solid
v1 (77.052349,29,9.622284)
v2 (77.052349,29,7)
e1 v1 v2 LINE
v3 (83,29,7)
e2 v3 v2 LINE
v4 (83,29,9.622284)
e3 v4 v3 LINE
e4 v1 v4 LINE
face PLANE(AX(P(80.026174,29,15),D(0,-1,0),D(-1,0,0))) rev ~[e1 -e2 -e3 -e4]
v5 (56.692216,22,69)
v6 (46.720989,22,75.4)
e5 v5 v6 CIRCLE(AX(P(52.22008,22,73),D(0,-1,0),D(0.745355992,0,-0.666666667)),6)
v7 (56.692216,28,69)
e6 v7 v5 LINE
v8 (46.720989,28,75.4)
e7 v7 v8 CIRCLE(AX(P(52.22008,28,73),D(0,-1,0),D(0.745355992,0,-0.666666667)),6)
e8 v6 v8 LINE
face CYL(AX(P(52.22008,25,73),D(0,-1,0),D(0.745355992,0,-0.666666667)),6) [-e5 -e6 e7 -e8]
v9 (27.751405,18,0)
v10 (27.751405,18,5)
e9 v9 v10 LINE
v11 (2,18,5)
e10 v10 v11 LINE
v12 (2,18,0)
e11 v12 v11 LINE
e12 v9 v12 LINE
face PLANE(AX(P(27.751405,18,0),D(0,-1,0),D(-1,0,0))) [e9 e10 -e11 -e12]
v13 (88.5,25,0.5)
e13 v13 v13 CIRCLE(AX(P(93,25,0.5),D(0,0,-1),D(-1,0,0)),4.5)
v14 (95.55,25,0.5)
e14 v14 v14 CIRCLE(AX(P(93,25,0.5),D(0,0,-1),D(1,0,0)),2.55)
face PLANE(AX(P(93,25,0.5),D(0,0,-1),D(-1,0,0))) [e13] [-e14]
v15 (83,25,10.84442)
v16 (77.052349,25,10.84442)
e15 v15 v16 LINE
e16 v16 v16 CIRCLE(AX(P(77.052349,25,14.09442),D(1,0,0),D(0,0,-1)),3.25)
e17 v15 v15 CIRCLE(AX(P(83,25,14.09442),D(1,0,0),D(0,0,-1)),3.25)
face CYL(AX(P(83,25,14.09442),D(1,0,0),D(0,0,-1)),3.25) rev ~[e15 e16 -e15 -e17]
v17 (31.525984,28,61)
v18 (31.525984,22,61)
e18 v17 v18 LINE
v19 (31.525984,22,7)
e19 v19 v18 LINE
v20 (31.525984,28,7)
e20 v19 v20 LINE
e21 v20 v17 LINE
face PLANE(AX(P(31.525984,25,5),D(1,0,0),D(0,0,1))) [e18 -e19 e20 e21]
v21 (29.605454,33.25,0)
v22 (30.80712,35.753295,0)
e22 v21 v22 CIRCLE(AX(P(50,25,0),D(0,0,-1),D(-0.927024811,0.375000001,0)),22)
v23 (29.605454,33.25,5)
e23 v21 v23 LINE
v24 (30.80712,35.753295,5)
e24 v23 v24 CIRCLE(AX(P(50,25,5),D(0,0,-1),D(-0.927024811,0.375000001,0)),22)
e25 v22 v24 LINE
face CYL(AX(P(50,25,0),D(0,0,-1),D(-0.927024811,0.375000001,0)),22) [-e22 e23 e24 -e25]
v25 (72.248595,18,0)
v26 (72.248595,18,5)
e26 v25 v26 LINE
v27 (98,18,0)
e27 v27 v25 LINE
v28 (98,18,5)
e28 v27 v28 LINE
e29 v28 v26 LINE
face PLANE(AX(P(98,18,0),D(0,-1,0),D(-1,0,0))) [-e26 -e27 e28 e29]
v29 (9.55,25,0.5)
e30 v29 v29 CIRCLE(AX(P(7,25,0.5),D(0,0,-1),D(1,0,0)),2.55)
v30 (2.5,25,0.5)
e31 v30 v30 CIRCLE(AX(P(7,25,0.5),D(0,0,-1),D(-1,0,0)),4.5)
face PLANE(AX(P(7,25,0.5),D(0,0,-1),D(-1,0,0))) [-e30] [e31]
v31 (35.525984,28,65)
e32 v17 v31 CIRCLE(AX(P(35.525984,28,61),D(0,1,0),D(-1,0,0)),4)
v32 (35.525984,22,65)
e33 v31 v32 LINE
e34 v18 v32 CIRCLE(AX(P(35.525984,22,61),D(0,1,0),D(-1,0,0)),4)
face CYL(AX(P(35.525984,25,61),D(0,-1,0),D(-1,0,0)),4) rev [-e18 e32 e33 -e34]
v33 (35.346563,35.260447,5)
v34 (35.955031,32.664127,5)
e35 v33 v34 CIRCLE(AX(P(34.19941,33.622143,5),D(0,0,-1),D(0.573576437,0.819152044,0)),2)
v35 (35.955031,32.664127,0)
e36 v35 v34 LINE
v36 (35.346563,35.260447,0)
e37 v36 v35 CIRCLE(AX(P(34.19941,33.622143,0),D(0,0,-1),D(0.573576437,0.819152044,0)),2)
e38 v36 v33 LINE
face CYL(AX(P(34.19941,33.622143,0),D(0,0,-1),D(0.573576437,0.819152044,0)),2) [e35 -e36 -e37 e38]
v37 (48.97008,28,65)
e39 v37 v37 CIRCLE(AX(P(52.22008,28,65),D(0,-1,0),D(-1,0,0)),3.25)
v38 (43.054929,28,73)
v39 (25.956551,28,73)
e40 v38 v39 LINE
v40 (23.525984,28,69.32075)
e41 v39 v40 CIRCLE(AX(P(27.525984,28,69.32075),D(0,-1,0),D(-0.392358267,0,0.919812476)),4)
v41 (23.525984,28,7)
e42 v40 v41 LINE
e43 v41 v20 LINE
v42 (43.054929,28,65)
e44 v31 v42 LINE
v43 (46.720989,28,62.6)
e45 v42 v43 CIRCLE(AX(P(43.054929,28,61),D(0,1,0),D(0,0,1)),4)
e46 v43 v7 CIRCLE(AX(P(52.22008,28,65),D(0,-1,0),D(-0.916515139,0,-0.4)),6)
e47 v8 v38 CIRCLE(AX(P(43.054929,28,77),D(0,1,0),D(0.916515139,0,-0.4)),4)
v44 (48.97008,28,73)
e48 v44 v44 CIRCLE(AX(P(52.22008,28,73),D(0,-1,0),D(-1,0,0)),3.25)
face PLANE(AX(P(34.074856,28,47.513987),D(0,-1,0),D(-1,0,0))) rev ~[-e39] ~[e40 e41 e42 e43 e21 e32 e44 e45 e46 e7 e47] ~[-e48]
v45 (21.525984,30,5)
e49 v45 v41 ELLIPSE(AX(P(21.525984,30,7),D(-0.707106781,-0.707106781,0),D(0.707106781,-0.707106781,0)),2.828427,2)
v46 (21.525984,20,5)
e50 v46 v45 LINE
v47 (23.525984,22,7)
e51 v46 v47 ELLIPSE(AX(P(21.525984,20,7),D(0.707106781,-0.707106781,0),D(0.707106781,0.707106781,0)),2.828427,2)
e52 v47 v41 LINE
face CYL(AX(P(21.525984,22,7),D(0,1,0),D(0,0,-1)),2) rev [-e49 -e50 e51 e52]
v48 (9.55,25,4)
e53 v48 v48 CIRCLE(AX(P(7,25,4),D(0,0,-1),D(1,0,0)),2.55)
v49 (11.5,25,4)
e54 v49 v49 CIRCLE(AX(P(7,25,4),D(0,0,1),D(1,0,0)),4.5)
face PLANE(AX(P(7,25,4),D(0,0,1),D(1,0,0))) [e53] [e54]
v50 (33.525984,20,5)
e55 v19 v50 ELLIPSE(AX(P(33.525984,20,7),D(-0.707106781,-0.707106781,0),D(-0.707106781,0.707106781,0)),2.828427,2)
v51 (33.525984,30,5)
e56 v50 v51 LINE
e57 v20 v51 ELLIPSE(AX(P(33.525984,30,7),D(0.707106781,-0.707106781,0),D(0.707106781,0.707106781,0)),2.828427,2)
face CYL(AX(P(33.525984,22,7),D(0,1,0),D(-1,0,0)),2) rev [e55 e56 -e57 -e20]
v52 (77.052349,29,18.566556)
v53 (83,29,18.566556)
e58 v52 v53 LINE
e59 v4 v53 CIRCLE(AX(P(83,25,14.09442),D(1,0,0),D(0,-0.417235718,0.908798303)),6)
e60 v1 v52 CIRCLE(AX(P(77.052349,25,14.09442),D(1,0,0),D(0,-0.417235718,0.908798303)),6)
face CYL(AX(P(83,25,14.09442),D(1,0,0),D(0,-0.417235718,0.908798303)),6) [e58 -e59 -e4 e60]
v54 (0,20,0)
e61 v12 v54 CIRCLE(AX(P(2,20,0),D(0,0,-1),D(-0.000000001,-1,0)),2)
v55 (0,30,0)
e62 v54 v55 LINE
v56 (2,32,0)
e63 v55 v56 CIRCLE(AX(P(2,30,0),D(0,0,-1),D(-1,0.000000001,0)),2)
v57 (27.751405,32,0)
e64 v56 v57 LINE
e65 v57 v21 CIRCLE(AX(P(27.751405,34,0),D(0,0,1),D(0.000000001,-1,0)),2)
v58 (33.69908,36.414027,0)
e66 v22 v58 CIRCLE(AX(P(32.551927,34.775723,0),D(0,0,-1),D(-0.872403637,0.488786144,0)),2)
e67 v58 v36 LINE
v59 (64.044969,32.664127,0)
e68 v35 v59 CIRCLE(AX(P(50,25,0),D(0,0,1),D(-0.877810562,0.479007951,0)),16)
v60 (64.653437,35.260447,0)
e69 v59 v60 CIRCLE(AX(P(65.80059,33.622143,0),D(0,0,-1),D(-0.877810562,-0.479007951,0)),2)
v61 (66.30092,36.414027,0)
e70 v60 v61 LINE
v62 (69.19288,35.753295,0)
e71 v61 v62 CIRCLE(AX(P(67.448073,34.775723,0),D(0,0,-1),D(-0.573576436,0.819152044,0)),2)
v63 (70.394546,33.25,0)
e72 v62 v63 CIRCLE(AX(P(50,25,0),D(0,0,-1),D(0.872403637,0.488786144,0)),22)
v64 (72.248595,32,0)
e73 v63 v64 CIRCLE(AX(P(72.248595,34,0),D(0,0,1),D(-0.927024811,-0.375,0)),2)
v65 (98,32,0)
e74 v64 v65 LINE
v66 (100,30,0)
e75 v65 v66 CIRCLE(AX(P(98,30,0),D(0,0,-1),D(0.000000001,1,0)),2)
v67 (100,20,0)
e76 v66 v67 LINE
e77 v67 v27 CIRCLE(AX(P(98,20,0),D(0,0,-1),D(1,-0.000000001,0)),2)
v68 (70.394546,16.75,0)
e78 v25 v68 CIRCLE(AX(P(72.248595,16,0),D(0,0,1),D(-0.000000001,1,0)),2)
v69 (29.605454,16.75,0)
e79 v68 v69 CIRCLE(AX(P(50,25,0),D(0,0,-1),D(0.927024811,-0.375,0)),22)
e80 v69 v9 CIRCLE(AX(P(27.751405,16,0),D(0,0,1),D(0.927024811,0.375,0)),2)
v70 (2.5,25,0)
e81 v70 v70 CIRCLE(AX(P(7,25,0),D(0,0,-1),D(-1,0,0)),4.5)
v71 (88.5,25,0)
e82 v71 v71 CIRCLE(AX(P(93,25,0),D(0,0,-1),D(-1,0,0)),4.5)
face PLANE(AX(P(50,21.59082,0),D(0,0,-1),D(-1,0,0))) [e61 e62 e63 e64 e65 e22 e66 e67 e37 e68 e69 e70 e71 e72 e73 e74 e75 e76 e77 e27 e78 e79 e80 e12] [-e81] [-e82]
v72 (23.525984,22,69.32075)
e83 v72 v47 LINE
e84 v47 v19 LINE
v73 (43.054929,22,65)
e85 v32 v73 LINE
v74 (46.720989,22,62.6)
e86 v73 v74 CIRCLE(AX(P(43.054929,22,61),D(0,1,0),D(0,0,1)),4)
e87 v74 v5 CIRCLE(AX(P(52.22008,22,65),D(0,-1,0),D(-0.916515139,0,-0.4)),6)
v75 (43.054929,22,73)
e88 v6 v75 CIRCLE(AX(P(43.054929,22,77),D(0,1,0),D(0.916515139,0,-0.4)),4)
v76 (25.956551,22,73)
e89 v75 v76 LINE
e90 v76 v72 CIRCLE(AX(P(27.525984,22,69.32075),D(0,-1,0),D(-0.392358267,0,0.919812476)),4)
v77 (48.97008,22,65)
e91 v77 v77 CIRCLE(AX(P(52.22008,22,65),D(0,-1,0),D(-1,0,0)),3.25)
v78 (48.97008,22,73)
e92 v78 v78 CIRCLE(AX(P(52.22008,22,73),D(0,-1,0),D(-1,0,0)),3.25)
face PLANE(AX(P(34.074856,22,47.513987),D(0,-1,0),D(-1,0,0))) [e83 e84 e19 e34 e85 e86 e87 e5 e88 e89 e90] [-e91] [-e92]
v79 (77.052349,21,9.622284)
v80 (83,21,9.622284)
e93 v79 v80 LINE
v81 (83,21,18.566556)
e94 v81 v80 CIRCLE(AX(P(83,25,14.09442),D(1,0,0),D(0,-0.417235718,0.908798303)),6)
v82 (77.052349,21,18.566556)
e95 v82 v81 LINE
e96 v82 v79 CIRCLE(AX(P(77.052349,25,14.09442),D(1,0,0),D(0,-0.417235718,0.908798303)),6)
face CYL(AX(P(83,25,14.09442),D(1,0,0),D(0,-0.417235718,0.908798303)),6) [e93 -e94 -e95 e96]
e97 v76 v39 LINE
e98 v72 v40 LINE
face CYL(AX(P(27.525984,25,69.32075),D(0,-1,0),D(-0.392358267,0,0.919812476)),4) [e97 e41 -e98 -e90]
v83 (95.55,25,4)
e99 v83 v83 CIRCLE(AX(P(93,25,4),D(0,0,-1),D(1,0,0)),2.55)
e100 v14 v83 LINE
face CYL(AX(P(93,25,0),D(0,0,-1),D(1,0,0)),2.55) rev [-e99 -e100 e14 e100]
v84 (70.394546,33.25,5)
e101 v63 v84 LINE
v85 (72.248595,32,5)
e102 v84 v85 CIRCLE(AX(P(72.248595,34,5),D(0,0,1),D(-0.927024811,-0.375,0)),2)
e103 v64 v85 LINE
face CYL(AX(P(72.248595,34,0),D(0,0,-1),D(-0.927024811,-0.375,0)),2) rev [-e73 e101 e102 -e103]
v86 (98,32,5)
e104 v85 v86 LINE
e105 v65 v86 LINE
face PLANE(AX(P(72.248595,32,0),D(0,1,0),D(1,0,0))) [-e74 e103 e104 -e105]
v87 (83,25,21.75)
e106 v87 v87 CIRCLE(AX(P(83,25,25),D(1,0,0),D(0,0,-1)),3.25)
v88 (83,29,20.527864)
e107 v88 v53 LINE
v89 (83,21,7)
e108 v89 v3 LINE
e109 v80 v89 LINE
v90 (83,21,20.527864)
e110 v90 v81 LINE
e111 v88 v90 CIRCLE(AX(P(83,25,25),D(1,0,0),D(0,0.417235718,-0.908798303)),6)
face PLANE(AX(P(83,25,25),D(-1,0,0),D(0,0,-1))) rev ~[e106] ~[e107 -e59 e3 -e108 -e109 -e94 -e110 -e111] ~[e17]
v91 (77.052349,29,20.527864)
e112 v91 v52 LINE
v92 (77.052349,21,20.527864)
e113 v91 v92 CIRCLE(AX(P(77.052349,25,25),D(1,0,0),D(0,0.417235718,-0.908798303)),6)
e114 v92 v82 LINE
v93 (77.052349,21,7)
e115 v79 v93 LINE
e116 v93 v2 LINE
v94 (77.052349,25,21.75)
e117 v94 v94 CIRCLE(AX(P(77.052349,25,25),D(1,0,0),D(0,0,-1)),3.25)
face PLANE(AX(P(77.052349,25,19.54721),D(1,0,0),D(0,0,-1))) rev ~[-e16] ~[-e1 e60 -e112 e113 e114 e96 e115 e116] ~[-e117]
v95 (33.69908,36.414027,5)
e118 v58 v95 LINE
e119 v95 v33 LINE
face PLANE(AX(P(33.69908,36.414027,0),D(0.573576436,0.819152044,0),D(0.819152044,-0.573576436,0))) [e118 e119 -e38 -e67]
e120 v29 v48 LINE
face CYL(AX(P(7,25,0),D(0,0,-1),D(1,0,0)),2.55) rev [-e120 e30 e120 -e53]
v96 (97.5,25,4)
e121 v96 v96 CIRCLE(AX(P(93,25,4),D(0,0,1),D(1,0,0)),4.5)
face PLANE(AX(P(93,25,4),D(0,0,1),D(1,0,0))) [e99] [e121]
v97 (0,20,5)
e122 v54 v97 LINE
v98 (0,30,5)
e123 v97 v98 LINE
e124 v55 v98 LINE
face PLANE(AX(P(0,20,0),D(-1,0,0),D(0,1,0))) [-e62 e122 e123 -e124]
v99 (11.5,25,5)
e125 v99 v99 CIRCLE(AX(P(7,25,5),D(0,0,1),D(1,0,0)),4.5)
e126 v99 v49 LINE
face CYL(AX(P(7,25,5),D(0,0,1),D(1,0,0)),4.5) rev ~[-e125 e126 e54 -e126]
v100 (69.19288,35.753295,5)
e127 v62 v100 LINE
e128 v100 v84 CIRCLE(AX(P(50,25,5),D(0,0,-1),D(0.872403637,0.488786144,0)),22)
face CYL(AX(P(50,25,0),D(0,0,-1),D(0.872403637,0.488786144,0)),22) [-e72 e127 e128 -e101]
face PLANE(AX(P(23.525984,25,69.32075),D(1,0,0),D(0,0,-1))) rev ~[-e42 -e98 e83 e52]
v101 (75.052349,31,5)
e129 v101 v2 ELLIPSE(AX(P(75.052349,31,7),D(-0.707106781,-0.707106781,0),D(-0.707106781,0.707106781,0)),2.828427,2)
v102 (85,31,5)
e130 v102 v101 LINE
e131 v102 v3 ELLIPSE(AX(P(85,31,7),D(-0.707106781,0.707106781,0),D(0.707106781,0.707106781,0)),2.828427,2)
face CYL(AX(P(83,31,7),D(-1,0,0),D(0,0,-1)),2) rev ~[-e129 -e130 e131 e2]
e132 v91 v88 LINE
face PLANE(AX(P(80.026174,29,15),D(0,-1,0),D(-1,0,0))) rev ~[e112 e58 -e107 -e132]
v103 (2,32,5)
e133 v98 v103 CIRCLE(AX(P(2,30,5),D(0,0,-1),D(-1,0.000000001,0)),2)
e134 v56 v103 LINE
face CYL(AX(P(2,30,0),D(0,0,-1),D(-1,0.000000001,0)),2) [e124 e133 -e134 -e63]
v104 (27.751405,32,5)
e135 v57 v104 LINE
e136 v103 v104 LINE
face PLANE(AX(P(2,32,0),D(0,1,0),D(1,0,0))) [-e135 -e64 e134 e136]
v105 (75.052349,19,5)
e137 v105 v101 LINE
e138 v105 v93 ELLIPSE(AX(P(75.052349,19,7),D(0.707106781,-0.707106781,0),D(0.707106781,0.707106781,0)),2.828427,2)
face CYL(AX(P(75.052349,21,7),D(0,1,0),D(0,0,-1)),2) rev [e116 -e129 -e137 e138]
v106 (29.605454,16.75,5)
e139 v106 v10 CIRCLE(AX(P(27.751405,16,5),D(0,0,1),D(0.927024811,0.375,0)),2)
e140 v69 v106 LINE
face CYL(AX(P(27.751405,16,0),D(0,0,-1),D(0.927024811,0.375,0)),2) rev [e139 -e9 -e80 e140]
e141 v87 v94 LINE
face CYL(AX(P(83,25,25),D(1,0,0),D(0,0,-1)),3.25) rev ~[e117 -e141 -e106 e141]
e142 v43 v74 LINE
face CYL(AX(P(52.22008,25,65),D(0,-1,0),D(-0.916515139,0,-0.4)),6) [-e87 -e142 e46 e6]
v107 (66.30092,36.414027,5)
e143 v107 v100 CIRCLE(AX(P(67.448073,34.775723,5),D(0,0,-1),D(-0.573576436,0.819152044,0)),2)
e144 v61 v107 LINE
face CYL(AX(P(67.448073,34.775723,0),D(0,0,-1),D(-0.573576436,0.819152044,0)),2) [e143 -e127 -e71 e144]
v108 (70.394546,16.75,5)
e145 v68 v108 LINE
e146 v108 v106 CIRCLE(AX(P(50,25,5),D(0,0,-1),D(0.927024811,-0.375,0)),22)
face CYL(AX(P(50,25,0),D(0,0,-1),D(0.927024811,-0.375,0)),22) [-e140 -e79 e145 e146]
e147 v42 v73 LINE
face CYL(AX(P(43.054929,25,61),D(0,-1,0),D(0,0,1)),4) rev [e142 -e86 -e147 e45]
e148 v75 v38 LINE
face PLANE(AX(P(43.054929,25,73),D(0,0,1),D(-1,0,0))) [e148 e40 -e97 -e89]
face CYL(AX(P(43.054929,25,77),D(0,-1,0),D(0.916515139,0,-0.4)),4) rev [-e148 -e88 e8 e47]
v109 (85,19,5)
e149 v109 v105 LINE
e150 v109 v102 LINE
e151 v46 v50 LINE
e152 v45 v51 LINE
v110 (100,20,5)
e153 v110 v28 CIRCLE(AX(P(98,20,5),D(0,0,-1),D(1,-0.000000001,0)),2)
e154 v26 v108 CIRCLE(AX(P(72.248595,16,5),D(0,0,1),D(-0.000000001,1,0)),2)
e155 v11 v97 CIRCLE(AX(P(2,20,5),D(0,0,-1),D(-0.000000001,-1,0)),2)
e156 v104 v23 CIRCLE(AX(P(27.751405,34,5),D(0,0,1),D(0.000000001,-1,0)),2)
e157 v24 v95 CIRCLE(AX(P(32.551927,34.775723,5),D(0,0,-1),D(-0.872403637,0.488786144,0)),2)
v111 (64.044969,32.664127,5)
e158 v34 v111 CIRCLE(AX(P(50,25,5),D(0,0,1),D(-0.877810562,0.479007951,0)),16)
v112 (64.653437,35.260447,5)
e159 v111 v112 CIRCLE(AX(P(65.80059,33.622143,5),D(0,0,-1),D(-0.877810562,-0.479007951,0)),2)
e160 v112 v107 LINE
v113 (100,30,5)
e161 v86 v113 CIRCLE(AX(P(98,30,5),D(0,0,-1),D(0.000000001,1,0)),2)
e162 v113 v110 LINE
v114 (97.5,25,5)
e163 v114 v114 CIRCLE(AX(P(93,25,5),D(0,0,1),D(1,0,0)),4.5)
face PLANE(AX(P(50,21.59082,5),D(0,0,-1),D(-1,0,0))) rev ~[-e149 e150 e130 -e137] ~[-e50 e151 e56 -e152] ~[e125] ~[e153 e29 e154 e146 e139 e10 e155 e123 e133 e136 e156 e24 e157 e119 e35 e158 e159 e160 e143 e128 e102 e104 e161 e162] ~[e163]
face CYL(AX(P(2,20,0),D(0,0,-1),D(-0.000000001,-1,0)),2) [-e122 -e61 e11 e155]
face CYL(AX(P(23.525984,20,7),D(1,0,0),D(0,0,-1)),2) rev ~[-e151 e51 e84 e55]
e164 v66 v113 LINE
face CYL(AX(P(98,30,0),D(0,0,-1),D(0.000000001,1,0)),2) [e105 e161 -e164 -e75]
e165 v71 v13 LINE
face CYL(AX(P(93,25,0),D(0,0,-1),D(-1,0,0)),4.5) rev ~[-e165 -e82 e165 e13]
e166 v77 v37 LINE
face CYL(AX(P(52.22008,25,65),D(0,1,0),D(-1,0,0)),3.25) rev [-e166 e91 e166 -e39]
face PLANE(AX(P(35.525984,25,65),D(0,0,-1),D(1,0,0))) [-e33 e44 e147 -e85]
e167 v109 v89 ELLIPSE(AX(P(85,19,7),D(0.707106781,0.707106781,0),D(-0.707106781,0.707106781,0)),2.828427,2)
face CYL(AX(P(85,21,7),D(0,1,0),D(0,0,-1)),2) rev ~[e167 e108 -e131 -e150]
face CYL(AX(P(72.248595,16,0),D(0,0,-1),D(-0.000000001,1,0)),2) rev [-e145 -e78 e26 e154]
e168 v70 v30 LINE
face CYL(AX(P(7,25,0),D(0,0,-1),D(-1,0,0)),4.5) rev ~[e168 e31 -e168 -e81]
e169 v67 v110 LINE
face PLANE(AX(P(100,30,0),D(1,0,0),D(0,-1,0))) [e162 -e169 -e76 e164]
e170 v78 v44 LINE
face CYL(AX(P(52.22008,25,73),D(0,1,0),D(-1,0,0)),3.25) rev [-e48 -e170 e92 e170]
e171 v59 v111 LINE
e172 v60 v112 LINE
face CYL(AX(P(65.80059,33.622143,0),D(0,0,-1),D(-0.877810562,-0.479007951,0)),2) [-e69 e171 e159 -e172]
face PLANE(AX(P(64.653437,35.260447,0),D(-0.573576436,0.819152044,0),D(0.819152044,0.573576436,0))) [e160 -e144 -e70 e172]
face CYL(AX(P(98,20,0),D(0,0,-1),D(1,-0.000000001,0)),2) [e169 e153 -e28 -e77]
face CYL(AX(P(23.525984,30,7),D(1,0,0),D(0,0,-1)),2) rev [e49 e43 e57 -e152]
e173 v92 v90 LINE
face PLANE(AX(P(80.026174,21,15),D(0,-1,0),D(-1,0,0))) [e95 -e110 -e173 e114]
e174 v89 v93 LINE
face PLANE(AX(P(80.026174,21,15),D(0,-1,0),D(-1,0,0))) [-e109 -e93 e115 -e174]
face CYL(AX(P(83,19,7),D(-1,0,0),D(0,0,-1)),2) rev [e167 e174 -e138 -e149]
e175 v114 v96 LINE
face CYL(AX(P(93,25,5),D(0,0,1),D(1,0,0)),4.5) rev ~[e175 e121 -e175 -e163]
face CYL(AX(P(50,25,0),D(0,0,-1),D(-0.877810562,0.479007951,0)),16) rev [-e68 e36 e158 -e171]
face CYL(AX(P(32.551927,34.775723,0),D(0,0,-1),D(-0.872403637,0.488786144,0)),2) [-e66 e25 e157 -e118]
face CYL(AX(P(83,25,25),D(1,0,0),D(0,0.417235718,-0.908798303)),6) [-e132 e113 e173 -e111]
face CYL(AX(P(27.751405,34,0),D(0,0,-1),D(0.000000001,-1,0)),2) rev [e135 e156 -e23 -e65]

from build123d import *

# Parameters (mm, degrees)
SKETCH1_R                = 2.55
BOSS_EXTRUDE1_DEPTH      = 5
SKETCH4_R                = 4.5
CUT_EXTRUDE2_DEPTH       = 1
SKETCH6_W                = 5.947651005
SKETCH6_H                = 20
BOSS_EXTRUDE2_DEPTH      = 4
BOSS_EXTRUDE2_DEPTH_BACK = 4
SKETCH11_R               = 4.5
CUT_EXTRUDE3_DEPTH       = 0.5
SKETCH16_R               = 3.25
BOSS_EXTRUDE3_DEPTH      = 3
BOSS_EXTRUDE3_DEPTH_BACK = 3
FILLET3_R                = 2
BOSS_EXTRUDE4_DEPTH      = 5.947651
CUT_EXTRUDE5_REACH       = 85
SKETCH18_R               = 3.25


with BuildPart() as part:
    # Sketch1 → Boss-Extrude1 (new body)
    with BuildSketch(Plane.XY):
        with BuildLine():
            Line((100, 25), (100, 20))
            ThreePointArc((100, 20), (99.414213562, 18.585786438), (98, 18))
            Line((98, 18), (72.248595461, 18))
            ThreePointArc((72.248595461, 18), (71.130561473, 17.658312395), (70.39454584, 16.75))
            ThreePointArc((70.39454584, 16.75), (50, 3), (29.60545416, 16.75))
            ThreePointArc((29.60545416, 16.75), (28.869438527, 17.658312395), (27.751404539, 18))
            Line((27.751404539, 18), (2, 18))
            ThreePointArc((2, 18), (0.585786438, 18.585786438), (0, 20))
            Line((0, 20), (0, 25))
            Line((0, 25), (0, 30))
            ThreePointArc((0, 30), (0.585786438, 31.414213562), (2, 32))
            Line((2, 32), (21.056240945, 32))
            Line((21.056240945, 32), (27.751404539, 32))
            ThreePointArc((27.751404539, 32), (28.869438527, 32.341687605), (29.60545416, 33.25))
            ThreePointArc((29.60545416, 33.25), (30.166752838, 34.520625347), (30.807119991, 35.753295167))
            ThreePointArc((30.807119991, 35.753295167), (32.106461975, 36.725482012), (33.699080137, 36.414026968))
            Line((33.699080137, 36.414026968), (35.34656276, 35.260447216))
            ThreePointArc((35.34656276, 35.260447216), (36.146649881, 34.078494315), (35.955031011, 32.664127224))
            ThreePointArc((35.955031011, 32.664127224), (50, 9), (64.044968989, 32.664127224))
            ThreePointArc((64.044968989, 32.664127224), (63.853350119, 34.078494315), (64.65343724, 35.260447216))
            Line((64.65343724, 35.260447216), (66.300919863, 36.414026968))
            ThreePointArc((66.300919863, 36.414026968), (67.893538025, 36.725482012), (69.192880009, 35.753295167))
            ThreePointArc((69.192880009, 35.753295167), (69.833247162, 34.520625347), (70.39454584, 33.25))
            ThreePointArc((70.39454584, 33.25), (71.130561473, 32.341687605), (72.248595461, 32))
            Line((72.248595461, 32), (78.943759055, 32))
            Line((78.943759055, 32), (98, 32))
            ThreePointArc((98, 32), (99.414213562, 31.414213562), (100, 30))
            Line((100, 30), (100, 25))
        make_face()
        with Locations((93, 25)):
            Circle(SKETCH1_R, mode=Mode.SUBTRACT)
        with Locations((7, 25)):
            Circle(SKETCH1_R, mode=Mode.SUBTRACT)
    extrude(amount=BOSS_EXTRUDE1_DEPTH)

    # Sketch4 → Cut-Extrude2 (cut)
    with BuildSketch(Plane.XY.offset(5)):
        with Locations((93, 25)):
            Circle(SKETCH4_R)
        with Locations((7, 25)):
            Circle(SKETCH4_R)
    extrude(amount=-CUT_EXTRUDE2_DEPTH, mode=Mode.SUBTRACT)

    # Sketch6 → Boss-Extrude2 (add, two sides)
    with BuildSketch(Plane(origin=(0, 25, 0), x_dir=(-1, 0, 0), z_dir=(0, -1, 0))) as boss_extrude2_sk:
        with Locations((-80.026174497, -15)):
            Rectangle(SKETCH6_W, SKETCH6_H)
    extrude(amount=BOSS_EXTRUDE2_DEPTH)
    extrude(boss_extrude2_sk.sketch, amount=-BOSS_EXTRUDE2_DEPTH_BACK)

    # Sketch11 → Cut-Extrude3 (cut)
    with BuildSketch(Plane(origin=(0, 0, 0), x_dir=(-1, 0, 0), z_dir=(0, 0, -1))):
        with Locations((-93, 25)):
            Circle(SKETCH11_R)
        with Locations((-7, 25)):
            Circle(SKETCH11_R)
    extrude(amount=-CUT_EXTRUDE3_DEPTH, mode=Mode.SUBTRACT)

    # Sketch16 → Boss-Extrude3 (add, two sides)
    with BuildSketch(Plane(origin=(0, 25, 0), x_dir=(-1, 0, 0), z_dir=(0, -1, 0))) as boss_extrude3_sk:
        with BuildLine():
            Line((-31.525983958, -5), (-31.525983958, -48.851508305))
            Line((-31.525983958, -48.851508305), (-31.525983958, -61))
            ThreePointArc((-31.525983958, -61), (-32.697556833, -63.828427125), (-35.525983958, -65))
            Line((-35.525983958, -65), (-43.054928699, -65))
            ThreePointArc((-43.054928699, -65), (-45.245818929, -64.346640106), (-46.720989255, -62.6))
            ThreePointArc((-46.720989255, -62.6), (-55.461014998, -59.950609847), (-56.692216044, -69))
            ThreePointArc((-56.692216044, -69), (-55.461014998, -78.049390153), (-46.720989255, -75.4))
            ThreePointArc((-46.720989255, -75.4), (-45.245818929, -73.653359894), (-43.054928699, -73))
            Line((-43.054928699, -73), (-25.956550891, -73))
            ThreePointArc((-25.956550891, -73), (-24.188489968, -71.525548017), (-23.525983958, -69.320750097))
            Line((-23.525983958, -69.320750097), (-23.525983958, -5))
            Line((-23.525983958, -5), (-31.525983958, -5))
        make_face()
        with Locations((-52.220080089, -73)):
            Circle(SKETCH16_R, mode=Mode.SUBTRACT)
        with Locations((-52.220080089, -65)):
            Circle(SKETCH16_R, mode=Mode.SUBTRACT)
    extrude(amount=BOSS_EXTRUDE3_DEPTH)
    extrude(boss_extrude3_sk.sketch, amount=-BOSS_EXTRUDE3_DEPTH_BACK)

    # Fillet3
    fillet3_edges = [part.edges().sort_by_distance(p)[0] for p in [
        (83, 25, 5),
        (80.026174498, 29, 5),
        (77.052348995, 25, 5),
        (80.026174498, 21, 5),
        (31.525983958, 25, 5),
        (27.525983958, 28, 5),
        (23.525983958, 25, 5),
        (27.525983958, 22, 5),
    ]]
    fillet(fillet3_edges, radius=FILLET3_R)

    # Sketch17 → Boss-Extrude4 (add)
    with BuildSketch(Plane(origin=(83, 0, 0), x_dir=(0, 0, -1), z_dir=(1, 0, 0))):
        with BuildLine():
            ThreePointArc((-19.547210182, 27.503414308), (-31, 25), (-19.547210182, 22.496585692))
            ThreePointArc((-19.547210182, 22.496585692), (-8.094420363, 25), (-19.547210182, 27.503414308))
        make_face()
    extrude(amount=-BOSS_EXTRUDE4_DEPTH)

    # Sketch18 → Cut-Extrude5 (cut, up to next)
    with BuildSketch(Plane(origin=(83, 0, 0), x_dir=(0, 0, -1), z_dir=(1, 0, 0)), mode=Mode.PRIVATE) as cut_extrude5_sk1:
        with Locations((-25, 25)):
            Circle(SKETCH18_R)
    cut_extrude5_tool1 = extrude(cut_extrude5_sk1.sketch, amount=-CUT_EXTRUDE5_REACH, mode=Mode.PRIVATE) & part.part
    add(cut_extrude5_tool1.solids().sort_by_distance((83, 25, 25))[0], mode=Mode.SUBTRACT)
    # Sketch18 → Cut-Extrude5 (cut, up to next)
    with BuildSketch(Plane(origin=(83, 0, 0), x_dir=(0, 0, -1), z_dir=(1, 0, 0)), mode=Mode.PRIVATE) as cut_extrude5_sk2:
        with Locations((-14.094420363, 25)):
            Circle(SKETCH18_R)
    cut_extrude5_tool2 = extrude(cut_extrude5_sk2.sketch, amount=-CUT_EXTRUDE5_REACH, mode=Mode.PRIVATE) & part.part
    add(cut_extrude5_tool2.solids().sort_by_distance((83, 25, 14.09442))[0], mode=Mode.SUBTRACT)


solid = part.part
